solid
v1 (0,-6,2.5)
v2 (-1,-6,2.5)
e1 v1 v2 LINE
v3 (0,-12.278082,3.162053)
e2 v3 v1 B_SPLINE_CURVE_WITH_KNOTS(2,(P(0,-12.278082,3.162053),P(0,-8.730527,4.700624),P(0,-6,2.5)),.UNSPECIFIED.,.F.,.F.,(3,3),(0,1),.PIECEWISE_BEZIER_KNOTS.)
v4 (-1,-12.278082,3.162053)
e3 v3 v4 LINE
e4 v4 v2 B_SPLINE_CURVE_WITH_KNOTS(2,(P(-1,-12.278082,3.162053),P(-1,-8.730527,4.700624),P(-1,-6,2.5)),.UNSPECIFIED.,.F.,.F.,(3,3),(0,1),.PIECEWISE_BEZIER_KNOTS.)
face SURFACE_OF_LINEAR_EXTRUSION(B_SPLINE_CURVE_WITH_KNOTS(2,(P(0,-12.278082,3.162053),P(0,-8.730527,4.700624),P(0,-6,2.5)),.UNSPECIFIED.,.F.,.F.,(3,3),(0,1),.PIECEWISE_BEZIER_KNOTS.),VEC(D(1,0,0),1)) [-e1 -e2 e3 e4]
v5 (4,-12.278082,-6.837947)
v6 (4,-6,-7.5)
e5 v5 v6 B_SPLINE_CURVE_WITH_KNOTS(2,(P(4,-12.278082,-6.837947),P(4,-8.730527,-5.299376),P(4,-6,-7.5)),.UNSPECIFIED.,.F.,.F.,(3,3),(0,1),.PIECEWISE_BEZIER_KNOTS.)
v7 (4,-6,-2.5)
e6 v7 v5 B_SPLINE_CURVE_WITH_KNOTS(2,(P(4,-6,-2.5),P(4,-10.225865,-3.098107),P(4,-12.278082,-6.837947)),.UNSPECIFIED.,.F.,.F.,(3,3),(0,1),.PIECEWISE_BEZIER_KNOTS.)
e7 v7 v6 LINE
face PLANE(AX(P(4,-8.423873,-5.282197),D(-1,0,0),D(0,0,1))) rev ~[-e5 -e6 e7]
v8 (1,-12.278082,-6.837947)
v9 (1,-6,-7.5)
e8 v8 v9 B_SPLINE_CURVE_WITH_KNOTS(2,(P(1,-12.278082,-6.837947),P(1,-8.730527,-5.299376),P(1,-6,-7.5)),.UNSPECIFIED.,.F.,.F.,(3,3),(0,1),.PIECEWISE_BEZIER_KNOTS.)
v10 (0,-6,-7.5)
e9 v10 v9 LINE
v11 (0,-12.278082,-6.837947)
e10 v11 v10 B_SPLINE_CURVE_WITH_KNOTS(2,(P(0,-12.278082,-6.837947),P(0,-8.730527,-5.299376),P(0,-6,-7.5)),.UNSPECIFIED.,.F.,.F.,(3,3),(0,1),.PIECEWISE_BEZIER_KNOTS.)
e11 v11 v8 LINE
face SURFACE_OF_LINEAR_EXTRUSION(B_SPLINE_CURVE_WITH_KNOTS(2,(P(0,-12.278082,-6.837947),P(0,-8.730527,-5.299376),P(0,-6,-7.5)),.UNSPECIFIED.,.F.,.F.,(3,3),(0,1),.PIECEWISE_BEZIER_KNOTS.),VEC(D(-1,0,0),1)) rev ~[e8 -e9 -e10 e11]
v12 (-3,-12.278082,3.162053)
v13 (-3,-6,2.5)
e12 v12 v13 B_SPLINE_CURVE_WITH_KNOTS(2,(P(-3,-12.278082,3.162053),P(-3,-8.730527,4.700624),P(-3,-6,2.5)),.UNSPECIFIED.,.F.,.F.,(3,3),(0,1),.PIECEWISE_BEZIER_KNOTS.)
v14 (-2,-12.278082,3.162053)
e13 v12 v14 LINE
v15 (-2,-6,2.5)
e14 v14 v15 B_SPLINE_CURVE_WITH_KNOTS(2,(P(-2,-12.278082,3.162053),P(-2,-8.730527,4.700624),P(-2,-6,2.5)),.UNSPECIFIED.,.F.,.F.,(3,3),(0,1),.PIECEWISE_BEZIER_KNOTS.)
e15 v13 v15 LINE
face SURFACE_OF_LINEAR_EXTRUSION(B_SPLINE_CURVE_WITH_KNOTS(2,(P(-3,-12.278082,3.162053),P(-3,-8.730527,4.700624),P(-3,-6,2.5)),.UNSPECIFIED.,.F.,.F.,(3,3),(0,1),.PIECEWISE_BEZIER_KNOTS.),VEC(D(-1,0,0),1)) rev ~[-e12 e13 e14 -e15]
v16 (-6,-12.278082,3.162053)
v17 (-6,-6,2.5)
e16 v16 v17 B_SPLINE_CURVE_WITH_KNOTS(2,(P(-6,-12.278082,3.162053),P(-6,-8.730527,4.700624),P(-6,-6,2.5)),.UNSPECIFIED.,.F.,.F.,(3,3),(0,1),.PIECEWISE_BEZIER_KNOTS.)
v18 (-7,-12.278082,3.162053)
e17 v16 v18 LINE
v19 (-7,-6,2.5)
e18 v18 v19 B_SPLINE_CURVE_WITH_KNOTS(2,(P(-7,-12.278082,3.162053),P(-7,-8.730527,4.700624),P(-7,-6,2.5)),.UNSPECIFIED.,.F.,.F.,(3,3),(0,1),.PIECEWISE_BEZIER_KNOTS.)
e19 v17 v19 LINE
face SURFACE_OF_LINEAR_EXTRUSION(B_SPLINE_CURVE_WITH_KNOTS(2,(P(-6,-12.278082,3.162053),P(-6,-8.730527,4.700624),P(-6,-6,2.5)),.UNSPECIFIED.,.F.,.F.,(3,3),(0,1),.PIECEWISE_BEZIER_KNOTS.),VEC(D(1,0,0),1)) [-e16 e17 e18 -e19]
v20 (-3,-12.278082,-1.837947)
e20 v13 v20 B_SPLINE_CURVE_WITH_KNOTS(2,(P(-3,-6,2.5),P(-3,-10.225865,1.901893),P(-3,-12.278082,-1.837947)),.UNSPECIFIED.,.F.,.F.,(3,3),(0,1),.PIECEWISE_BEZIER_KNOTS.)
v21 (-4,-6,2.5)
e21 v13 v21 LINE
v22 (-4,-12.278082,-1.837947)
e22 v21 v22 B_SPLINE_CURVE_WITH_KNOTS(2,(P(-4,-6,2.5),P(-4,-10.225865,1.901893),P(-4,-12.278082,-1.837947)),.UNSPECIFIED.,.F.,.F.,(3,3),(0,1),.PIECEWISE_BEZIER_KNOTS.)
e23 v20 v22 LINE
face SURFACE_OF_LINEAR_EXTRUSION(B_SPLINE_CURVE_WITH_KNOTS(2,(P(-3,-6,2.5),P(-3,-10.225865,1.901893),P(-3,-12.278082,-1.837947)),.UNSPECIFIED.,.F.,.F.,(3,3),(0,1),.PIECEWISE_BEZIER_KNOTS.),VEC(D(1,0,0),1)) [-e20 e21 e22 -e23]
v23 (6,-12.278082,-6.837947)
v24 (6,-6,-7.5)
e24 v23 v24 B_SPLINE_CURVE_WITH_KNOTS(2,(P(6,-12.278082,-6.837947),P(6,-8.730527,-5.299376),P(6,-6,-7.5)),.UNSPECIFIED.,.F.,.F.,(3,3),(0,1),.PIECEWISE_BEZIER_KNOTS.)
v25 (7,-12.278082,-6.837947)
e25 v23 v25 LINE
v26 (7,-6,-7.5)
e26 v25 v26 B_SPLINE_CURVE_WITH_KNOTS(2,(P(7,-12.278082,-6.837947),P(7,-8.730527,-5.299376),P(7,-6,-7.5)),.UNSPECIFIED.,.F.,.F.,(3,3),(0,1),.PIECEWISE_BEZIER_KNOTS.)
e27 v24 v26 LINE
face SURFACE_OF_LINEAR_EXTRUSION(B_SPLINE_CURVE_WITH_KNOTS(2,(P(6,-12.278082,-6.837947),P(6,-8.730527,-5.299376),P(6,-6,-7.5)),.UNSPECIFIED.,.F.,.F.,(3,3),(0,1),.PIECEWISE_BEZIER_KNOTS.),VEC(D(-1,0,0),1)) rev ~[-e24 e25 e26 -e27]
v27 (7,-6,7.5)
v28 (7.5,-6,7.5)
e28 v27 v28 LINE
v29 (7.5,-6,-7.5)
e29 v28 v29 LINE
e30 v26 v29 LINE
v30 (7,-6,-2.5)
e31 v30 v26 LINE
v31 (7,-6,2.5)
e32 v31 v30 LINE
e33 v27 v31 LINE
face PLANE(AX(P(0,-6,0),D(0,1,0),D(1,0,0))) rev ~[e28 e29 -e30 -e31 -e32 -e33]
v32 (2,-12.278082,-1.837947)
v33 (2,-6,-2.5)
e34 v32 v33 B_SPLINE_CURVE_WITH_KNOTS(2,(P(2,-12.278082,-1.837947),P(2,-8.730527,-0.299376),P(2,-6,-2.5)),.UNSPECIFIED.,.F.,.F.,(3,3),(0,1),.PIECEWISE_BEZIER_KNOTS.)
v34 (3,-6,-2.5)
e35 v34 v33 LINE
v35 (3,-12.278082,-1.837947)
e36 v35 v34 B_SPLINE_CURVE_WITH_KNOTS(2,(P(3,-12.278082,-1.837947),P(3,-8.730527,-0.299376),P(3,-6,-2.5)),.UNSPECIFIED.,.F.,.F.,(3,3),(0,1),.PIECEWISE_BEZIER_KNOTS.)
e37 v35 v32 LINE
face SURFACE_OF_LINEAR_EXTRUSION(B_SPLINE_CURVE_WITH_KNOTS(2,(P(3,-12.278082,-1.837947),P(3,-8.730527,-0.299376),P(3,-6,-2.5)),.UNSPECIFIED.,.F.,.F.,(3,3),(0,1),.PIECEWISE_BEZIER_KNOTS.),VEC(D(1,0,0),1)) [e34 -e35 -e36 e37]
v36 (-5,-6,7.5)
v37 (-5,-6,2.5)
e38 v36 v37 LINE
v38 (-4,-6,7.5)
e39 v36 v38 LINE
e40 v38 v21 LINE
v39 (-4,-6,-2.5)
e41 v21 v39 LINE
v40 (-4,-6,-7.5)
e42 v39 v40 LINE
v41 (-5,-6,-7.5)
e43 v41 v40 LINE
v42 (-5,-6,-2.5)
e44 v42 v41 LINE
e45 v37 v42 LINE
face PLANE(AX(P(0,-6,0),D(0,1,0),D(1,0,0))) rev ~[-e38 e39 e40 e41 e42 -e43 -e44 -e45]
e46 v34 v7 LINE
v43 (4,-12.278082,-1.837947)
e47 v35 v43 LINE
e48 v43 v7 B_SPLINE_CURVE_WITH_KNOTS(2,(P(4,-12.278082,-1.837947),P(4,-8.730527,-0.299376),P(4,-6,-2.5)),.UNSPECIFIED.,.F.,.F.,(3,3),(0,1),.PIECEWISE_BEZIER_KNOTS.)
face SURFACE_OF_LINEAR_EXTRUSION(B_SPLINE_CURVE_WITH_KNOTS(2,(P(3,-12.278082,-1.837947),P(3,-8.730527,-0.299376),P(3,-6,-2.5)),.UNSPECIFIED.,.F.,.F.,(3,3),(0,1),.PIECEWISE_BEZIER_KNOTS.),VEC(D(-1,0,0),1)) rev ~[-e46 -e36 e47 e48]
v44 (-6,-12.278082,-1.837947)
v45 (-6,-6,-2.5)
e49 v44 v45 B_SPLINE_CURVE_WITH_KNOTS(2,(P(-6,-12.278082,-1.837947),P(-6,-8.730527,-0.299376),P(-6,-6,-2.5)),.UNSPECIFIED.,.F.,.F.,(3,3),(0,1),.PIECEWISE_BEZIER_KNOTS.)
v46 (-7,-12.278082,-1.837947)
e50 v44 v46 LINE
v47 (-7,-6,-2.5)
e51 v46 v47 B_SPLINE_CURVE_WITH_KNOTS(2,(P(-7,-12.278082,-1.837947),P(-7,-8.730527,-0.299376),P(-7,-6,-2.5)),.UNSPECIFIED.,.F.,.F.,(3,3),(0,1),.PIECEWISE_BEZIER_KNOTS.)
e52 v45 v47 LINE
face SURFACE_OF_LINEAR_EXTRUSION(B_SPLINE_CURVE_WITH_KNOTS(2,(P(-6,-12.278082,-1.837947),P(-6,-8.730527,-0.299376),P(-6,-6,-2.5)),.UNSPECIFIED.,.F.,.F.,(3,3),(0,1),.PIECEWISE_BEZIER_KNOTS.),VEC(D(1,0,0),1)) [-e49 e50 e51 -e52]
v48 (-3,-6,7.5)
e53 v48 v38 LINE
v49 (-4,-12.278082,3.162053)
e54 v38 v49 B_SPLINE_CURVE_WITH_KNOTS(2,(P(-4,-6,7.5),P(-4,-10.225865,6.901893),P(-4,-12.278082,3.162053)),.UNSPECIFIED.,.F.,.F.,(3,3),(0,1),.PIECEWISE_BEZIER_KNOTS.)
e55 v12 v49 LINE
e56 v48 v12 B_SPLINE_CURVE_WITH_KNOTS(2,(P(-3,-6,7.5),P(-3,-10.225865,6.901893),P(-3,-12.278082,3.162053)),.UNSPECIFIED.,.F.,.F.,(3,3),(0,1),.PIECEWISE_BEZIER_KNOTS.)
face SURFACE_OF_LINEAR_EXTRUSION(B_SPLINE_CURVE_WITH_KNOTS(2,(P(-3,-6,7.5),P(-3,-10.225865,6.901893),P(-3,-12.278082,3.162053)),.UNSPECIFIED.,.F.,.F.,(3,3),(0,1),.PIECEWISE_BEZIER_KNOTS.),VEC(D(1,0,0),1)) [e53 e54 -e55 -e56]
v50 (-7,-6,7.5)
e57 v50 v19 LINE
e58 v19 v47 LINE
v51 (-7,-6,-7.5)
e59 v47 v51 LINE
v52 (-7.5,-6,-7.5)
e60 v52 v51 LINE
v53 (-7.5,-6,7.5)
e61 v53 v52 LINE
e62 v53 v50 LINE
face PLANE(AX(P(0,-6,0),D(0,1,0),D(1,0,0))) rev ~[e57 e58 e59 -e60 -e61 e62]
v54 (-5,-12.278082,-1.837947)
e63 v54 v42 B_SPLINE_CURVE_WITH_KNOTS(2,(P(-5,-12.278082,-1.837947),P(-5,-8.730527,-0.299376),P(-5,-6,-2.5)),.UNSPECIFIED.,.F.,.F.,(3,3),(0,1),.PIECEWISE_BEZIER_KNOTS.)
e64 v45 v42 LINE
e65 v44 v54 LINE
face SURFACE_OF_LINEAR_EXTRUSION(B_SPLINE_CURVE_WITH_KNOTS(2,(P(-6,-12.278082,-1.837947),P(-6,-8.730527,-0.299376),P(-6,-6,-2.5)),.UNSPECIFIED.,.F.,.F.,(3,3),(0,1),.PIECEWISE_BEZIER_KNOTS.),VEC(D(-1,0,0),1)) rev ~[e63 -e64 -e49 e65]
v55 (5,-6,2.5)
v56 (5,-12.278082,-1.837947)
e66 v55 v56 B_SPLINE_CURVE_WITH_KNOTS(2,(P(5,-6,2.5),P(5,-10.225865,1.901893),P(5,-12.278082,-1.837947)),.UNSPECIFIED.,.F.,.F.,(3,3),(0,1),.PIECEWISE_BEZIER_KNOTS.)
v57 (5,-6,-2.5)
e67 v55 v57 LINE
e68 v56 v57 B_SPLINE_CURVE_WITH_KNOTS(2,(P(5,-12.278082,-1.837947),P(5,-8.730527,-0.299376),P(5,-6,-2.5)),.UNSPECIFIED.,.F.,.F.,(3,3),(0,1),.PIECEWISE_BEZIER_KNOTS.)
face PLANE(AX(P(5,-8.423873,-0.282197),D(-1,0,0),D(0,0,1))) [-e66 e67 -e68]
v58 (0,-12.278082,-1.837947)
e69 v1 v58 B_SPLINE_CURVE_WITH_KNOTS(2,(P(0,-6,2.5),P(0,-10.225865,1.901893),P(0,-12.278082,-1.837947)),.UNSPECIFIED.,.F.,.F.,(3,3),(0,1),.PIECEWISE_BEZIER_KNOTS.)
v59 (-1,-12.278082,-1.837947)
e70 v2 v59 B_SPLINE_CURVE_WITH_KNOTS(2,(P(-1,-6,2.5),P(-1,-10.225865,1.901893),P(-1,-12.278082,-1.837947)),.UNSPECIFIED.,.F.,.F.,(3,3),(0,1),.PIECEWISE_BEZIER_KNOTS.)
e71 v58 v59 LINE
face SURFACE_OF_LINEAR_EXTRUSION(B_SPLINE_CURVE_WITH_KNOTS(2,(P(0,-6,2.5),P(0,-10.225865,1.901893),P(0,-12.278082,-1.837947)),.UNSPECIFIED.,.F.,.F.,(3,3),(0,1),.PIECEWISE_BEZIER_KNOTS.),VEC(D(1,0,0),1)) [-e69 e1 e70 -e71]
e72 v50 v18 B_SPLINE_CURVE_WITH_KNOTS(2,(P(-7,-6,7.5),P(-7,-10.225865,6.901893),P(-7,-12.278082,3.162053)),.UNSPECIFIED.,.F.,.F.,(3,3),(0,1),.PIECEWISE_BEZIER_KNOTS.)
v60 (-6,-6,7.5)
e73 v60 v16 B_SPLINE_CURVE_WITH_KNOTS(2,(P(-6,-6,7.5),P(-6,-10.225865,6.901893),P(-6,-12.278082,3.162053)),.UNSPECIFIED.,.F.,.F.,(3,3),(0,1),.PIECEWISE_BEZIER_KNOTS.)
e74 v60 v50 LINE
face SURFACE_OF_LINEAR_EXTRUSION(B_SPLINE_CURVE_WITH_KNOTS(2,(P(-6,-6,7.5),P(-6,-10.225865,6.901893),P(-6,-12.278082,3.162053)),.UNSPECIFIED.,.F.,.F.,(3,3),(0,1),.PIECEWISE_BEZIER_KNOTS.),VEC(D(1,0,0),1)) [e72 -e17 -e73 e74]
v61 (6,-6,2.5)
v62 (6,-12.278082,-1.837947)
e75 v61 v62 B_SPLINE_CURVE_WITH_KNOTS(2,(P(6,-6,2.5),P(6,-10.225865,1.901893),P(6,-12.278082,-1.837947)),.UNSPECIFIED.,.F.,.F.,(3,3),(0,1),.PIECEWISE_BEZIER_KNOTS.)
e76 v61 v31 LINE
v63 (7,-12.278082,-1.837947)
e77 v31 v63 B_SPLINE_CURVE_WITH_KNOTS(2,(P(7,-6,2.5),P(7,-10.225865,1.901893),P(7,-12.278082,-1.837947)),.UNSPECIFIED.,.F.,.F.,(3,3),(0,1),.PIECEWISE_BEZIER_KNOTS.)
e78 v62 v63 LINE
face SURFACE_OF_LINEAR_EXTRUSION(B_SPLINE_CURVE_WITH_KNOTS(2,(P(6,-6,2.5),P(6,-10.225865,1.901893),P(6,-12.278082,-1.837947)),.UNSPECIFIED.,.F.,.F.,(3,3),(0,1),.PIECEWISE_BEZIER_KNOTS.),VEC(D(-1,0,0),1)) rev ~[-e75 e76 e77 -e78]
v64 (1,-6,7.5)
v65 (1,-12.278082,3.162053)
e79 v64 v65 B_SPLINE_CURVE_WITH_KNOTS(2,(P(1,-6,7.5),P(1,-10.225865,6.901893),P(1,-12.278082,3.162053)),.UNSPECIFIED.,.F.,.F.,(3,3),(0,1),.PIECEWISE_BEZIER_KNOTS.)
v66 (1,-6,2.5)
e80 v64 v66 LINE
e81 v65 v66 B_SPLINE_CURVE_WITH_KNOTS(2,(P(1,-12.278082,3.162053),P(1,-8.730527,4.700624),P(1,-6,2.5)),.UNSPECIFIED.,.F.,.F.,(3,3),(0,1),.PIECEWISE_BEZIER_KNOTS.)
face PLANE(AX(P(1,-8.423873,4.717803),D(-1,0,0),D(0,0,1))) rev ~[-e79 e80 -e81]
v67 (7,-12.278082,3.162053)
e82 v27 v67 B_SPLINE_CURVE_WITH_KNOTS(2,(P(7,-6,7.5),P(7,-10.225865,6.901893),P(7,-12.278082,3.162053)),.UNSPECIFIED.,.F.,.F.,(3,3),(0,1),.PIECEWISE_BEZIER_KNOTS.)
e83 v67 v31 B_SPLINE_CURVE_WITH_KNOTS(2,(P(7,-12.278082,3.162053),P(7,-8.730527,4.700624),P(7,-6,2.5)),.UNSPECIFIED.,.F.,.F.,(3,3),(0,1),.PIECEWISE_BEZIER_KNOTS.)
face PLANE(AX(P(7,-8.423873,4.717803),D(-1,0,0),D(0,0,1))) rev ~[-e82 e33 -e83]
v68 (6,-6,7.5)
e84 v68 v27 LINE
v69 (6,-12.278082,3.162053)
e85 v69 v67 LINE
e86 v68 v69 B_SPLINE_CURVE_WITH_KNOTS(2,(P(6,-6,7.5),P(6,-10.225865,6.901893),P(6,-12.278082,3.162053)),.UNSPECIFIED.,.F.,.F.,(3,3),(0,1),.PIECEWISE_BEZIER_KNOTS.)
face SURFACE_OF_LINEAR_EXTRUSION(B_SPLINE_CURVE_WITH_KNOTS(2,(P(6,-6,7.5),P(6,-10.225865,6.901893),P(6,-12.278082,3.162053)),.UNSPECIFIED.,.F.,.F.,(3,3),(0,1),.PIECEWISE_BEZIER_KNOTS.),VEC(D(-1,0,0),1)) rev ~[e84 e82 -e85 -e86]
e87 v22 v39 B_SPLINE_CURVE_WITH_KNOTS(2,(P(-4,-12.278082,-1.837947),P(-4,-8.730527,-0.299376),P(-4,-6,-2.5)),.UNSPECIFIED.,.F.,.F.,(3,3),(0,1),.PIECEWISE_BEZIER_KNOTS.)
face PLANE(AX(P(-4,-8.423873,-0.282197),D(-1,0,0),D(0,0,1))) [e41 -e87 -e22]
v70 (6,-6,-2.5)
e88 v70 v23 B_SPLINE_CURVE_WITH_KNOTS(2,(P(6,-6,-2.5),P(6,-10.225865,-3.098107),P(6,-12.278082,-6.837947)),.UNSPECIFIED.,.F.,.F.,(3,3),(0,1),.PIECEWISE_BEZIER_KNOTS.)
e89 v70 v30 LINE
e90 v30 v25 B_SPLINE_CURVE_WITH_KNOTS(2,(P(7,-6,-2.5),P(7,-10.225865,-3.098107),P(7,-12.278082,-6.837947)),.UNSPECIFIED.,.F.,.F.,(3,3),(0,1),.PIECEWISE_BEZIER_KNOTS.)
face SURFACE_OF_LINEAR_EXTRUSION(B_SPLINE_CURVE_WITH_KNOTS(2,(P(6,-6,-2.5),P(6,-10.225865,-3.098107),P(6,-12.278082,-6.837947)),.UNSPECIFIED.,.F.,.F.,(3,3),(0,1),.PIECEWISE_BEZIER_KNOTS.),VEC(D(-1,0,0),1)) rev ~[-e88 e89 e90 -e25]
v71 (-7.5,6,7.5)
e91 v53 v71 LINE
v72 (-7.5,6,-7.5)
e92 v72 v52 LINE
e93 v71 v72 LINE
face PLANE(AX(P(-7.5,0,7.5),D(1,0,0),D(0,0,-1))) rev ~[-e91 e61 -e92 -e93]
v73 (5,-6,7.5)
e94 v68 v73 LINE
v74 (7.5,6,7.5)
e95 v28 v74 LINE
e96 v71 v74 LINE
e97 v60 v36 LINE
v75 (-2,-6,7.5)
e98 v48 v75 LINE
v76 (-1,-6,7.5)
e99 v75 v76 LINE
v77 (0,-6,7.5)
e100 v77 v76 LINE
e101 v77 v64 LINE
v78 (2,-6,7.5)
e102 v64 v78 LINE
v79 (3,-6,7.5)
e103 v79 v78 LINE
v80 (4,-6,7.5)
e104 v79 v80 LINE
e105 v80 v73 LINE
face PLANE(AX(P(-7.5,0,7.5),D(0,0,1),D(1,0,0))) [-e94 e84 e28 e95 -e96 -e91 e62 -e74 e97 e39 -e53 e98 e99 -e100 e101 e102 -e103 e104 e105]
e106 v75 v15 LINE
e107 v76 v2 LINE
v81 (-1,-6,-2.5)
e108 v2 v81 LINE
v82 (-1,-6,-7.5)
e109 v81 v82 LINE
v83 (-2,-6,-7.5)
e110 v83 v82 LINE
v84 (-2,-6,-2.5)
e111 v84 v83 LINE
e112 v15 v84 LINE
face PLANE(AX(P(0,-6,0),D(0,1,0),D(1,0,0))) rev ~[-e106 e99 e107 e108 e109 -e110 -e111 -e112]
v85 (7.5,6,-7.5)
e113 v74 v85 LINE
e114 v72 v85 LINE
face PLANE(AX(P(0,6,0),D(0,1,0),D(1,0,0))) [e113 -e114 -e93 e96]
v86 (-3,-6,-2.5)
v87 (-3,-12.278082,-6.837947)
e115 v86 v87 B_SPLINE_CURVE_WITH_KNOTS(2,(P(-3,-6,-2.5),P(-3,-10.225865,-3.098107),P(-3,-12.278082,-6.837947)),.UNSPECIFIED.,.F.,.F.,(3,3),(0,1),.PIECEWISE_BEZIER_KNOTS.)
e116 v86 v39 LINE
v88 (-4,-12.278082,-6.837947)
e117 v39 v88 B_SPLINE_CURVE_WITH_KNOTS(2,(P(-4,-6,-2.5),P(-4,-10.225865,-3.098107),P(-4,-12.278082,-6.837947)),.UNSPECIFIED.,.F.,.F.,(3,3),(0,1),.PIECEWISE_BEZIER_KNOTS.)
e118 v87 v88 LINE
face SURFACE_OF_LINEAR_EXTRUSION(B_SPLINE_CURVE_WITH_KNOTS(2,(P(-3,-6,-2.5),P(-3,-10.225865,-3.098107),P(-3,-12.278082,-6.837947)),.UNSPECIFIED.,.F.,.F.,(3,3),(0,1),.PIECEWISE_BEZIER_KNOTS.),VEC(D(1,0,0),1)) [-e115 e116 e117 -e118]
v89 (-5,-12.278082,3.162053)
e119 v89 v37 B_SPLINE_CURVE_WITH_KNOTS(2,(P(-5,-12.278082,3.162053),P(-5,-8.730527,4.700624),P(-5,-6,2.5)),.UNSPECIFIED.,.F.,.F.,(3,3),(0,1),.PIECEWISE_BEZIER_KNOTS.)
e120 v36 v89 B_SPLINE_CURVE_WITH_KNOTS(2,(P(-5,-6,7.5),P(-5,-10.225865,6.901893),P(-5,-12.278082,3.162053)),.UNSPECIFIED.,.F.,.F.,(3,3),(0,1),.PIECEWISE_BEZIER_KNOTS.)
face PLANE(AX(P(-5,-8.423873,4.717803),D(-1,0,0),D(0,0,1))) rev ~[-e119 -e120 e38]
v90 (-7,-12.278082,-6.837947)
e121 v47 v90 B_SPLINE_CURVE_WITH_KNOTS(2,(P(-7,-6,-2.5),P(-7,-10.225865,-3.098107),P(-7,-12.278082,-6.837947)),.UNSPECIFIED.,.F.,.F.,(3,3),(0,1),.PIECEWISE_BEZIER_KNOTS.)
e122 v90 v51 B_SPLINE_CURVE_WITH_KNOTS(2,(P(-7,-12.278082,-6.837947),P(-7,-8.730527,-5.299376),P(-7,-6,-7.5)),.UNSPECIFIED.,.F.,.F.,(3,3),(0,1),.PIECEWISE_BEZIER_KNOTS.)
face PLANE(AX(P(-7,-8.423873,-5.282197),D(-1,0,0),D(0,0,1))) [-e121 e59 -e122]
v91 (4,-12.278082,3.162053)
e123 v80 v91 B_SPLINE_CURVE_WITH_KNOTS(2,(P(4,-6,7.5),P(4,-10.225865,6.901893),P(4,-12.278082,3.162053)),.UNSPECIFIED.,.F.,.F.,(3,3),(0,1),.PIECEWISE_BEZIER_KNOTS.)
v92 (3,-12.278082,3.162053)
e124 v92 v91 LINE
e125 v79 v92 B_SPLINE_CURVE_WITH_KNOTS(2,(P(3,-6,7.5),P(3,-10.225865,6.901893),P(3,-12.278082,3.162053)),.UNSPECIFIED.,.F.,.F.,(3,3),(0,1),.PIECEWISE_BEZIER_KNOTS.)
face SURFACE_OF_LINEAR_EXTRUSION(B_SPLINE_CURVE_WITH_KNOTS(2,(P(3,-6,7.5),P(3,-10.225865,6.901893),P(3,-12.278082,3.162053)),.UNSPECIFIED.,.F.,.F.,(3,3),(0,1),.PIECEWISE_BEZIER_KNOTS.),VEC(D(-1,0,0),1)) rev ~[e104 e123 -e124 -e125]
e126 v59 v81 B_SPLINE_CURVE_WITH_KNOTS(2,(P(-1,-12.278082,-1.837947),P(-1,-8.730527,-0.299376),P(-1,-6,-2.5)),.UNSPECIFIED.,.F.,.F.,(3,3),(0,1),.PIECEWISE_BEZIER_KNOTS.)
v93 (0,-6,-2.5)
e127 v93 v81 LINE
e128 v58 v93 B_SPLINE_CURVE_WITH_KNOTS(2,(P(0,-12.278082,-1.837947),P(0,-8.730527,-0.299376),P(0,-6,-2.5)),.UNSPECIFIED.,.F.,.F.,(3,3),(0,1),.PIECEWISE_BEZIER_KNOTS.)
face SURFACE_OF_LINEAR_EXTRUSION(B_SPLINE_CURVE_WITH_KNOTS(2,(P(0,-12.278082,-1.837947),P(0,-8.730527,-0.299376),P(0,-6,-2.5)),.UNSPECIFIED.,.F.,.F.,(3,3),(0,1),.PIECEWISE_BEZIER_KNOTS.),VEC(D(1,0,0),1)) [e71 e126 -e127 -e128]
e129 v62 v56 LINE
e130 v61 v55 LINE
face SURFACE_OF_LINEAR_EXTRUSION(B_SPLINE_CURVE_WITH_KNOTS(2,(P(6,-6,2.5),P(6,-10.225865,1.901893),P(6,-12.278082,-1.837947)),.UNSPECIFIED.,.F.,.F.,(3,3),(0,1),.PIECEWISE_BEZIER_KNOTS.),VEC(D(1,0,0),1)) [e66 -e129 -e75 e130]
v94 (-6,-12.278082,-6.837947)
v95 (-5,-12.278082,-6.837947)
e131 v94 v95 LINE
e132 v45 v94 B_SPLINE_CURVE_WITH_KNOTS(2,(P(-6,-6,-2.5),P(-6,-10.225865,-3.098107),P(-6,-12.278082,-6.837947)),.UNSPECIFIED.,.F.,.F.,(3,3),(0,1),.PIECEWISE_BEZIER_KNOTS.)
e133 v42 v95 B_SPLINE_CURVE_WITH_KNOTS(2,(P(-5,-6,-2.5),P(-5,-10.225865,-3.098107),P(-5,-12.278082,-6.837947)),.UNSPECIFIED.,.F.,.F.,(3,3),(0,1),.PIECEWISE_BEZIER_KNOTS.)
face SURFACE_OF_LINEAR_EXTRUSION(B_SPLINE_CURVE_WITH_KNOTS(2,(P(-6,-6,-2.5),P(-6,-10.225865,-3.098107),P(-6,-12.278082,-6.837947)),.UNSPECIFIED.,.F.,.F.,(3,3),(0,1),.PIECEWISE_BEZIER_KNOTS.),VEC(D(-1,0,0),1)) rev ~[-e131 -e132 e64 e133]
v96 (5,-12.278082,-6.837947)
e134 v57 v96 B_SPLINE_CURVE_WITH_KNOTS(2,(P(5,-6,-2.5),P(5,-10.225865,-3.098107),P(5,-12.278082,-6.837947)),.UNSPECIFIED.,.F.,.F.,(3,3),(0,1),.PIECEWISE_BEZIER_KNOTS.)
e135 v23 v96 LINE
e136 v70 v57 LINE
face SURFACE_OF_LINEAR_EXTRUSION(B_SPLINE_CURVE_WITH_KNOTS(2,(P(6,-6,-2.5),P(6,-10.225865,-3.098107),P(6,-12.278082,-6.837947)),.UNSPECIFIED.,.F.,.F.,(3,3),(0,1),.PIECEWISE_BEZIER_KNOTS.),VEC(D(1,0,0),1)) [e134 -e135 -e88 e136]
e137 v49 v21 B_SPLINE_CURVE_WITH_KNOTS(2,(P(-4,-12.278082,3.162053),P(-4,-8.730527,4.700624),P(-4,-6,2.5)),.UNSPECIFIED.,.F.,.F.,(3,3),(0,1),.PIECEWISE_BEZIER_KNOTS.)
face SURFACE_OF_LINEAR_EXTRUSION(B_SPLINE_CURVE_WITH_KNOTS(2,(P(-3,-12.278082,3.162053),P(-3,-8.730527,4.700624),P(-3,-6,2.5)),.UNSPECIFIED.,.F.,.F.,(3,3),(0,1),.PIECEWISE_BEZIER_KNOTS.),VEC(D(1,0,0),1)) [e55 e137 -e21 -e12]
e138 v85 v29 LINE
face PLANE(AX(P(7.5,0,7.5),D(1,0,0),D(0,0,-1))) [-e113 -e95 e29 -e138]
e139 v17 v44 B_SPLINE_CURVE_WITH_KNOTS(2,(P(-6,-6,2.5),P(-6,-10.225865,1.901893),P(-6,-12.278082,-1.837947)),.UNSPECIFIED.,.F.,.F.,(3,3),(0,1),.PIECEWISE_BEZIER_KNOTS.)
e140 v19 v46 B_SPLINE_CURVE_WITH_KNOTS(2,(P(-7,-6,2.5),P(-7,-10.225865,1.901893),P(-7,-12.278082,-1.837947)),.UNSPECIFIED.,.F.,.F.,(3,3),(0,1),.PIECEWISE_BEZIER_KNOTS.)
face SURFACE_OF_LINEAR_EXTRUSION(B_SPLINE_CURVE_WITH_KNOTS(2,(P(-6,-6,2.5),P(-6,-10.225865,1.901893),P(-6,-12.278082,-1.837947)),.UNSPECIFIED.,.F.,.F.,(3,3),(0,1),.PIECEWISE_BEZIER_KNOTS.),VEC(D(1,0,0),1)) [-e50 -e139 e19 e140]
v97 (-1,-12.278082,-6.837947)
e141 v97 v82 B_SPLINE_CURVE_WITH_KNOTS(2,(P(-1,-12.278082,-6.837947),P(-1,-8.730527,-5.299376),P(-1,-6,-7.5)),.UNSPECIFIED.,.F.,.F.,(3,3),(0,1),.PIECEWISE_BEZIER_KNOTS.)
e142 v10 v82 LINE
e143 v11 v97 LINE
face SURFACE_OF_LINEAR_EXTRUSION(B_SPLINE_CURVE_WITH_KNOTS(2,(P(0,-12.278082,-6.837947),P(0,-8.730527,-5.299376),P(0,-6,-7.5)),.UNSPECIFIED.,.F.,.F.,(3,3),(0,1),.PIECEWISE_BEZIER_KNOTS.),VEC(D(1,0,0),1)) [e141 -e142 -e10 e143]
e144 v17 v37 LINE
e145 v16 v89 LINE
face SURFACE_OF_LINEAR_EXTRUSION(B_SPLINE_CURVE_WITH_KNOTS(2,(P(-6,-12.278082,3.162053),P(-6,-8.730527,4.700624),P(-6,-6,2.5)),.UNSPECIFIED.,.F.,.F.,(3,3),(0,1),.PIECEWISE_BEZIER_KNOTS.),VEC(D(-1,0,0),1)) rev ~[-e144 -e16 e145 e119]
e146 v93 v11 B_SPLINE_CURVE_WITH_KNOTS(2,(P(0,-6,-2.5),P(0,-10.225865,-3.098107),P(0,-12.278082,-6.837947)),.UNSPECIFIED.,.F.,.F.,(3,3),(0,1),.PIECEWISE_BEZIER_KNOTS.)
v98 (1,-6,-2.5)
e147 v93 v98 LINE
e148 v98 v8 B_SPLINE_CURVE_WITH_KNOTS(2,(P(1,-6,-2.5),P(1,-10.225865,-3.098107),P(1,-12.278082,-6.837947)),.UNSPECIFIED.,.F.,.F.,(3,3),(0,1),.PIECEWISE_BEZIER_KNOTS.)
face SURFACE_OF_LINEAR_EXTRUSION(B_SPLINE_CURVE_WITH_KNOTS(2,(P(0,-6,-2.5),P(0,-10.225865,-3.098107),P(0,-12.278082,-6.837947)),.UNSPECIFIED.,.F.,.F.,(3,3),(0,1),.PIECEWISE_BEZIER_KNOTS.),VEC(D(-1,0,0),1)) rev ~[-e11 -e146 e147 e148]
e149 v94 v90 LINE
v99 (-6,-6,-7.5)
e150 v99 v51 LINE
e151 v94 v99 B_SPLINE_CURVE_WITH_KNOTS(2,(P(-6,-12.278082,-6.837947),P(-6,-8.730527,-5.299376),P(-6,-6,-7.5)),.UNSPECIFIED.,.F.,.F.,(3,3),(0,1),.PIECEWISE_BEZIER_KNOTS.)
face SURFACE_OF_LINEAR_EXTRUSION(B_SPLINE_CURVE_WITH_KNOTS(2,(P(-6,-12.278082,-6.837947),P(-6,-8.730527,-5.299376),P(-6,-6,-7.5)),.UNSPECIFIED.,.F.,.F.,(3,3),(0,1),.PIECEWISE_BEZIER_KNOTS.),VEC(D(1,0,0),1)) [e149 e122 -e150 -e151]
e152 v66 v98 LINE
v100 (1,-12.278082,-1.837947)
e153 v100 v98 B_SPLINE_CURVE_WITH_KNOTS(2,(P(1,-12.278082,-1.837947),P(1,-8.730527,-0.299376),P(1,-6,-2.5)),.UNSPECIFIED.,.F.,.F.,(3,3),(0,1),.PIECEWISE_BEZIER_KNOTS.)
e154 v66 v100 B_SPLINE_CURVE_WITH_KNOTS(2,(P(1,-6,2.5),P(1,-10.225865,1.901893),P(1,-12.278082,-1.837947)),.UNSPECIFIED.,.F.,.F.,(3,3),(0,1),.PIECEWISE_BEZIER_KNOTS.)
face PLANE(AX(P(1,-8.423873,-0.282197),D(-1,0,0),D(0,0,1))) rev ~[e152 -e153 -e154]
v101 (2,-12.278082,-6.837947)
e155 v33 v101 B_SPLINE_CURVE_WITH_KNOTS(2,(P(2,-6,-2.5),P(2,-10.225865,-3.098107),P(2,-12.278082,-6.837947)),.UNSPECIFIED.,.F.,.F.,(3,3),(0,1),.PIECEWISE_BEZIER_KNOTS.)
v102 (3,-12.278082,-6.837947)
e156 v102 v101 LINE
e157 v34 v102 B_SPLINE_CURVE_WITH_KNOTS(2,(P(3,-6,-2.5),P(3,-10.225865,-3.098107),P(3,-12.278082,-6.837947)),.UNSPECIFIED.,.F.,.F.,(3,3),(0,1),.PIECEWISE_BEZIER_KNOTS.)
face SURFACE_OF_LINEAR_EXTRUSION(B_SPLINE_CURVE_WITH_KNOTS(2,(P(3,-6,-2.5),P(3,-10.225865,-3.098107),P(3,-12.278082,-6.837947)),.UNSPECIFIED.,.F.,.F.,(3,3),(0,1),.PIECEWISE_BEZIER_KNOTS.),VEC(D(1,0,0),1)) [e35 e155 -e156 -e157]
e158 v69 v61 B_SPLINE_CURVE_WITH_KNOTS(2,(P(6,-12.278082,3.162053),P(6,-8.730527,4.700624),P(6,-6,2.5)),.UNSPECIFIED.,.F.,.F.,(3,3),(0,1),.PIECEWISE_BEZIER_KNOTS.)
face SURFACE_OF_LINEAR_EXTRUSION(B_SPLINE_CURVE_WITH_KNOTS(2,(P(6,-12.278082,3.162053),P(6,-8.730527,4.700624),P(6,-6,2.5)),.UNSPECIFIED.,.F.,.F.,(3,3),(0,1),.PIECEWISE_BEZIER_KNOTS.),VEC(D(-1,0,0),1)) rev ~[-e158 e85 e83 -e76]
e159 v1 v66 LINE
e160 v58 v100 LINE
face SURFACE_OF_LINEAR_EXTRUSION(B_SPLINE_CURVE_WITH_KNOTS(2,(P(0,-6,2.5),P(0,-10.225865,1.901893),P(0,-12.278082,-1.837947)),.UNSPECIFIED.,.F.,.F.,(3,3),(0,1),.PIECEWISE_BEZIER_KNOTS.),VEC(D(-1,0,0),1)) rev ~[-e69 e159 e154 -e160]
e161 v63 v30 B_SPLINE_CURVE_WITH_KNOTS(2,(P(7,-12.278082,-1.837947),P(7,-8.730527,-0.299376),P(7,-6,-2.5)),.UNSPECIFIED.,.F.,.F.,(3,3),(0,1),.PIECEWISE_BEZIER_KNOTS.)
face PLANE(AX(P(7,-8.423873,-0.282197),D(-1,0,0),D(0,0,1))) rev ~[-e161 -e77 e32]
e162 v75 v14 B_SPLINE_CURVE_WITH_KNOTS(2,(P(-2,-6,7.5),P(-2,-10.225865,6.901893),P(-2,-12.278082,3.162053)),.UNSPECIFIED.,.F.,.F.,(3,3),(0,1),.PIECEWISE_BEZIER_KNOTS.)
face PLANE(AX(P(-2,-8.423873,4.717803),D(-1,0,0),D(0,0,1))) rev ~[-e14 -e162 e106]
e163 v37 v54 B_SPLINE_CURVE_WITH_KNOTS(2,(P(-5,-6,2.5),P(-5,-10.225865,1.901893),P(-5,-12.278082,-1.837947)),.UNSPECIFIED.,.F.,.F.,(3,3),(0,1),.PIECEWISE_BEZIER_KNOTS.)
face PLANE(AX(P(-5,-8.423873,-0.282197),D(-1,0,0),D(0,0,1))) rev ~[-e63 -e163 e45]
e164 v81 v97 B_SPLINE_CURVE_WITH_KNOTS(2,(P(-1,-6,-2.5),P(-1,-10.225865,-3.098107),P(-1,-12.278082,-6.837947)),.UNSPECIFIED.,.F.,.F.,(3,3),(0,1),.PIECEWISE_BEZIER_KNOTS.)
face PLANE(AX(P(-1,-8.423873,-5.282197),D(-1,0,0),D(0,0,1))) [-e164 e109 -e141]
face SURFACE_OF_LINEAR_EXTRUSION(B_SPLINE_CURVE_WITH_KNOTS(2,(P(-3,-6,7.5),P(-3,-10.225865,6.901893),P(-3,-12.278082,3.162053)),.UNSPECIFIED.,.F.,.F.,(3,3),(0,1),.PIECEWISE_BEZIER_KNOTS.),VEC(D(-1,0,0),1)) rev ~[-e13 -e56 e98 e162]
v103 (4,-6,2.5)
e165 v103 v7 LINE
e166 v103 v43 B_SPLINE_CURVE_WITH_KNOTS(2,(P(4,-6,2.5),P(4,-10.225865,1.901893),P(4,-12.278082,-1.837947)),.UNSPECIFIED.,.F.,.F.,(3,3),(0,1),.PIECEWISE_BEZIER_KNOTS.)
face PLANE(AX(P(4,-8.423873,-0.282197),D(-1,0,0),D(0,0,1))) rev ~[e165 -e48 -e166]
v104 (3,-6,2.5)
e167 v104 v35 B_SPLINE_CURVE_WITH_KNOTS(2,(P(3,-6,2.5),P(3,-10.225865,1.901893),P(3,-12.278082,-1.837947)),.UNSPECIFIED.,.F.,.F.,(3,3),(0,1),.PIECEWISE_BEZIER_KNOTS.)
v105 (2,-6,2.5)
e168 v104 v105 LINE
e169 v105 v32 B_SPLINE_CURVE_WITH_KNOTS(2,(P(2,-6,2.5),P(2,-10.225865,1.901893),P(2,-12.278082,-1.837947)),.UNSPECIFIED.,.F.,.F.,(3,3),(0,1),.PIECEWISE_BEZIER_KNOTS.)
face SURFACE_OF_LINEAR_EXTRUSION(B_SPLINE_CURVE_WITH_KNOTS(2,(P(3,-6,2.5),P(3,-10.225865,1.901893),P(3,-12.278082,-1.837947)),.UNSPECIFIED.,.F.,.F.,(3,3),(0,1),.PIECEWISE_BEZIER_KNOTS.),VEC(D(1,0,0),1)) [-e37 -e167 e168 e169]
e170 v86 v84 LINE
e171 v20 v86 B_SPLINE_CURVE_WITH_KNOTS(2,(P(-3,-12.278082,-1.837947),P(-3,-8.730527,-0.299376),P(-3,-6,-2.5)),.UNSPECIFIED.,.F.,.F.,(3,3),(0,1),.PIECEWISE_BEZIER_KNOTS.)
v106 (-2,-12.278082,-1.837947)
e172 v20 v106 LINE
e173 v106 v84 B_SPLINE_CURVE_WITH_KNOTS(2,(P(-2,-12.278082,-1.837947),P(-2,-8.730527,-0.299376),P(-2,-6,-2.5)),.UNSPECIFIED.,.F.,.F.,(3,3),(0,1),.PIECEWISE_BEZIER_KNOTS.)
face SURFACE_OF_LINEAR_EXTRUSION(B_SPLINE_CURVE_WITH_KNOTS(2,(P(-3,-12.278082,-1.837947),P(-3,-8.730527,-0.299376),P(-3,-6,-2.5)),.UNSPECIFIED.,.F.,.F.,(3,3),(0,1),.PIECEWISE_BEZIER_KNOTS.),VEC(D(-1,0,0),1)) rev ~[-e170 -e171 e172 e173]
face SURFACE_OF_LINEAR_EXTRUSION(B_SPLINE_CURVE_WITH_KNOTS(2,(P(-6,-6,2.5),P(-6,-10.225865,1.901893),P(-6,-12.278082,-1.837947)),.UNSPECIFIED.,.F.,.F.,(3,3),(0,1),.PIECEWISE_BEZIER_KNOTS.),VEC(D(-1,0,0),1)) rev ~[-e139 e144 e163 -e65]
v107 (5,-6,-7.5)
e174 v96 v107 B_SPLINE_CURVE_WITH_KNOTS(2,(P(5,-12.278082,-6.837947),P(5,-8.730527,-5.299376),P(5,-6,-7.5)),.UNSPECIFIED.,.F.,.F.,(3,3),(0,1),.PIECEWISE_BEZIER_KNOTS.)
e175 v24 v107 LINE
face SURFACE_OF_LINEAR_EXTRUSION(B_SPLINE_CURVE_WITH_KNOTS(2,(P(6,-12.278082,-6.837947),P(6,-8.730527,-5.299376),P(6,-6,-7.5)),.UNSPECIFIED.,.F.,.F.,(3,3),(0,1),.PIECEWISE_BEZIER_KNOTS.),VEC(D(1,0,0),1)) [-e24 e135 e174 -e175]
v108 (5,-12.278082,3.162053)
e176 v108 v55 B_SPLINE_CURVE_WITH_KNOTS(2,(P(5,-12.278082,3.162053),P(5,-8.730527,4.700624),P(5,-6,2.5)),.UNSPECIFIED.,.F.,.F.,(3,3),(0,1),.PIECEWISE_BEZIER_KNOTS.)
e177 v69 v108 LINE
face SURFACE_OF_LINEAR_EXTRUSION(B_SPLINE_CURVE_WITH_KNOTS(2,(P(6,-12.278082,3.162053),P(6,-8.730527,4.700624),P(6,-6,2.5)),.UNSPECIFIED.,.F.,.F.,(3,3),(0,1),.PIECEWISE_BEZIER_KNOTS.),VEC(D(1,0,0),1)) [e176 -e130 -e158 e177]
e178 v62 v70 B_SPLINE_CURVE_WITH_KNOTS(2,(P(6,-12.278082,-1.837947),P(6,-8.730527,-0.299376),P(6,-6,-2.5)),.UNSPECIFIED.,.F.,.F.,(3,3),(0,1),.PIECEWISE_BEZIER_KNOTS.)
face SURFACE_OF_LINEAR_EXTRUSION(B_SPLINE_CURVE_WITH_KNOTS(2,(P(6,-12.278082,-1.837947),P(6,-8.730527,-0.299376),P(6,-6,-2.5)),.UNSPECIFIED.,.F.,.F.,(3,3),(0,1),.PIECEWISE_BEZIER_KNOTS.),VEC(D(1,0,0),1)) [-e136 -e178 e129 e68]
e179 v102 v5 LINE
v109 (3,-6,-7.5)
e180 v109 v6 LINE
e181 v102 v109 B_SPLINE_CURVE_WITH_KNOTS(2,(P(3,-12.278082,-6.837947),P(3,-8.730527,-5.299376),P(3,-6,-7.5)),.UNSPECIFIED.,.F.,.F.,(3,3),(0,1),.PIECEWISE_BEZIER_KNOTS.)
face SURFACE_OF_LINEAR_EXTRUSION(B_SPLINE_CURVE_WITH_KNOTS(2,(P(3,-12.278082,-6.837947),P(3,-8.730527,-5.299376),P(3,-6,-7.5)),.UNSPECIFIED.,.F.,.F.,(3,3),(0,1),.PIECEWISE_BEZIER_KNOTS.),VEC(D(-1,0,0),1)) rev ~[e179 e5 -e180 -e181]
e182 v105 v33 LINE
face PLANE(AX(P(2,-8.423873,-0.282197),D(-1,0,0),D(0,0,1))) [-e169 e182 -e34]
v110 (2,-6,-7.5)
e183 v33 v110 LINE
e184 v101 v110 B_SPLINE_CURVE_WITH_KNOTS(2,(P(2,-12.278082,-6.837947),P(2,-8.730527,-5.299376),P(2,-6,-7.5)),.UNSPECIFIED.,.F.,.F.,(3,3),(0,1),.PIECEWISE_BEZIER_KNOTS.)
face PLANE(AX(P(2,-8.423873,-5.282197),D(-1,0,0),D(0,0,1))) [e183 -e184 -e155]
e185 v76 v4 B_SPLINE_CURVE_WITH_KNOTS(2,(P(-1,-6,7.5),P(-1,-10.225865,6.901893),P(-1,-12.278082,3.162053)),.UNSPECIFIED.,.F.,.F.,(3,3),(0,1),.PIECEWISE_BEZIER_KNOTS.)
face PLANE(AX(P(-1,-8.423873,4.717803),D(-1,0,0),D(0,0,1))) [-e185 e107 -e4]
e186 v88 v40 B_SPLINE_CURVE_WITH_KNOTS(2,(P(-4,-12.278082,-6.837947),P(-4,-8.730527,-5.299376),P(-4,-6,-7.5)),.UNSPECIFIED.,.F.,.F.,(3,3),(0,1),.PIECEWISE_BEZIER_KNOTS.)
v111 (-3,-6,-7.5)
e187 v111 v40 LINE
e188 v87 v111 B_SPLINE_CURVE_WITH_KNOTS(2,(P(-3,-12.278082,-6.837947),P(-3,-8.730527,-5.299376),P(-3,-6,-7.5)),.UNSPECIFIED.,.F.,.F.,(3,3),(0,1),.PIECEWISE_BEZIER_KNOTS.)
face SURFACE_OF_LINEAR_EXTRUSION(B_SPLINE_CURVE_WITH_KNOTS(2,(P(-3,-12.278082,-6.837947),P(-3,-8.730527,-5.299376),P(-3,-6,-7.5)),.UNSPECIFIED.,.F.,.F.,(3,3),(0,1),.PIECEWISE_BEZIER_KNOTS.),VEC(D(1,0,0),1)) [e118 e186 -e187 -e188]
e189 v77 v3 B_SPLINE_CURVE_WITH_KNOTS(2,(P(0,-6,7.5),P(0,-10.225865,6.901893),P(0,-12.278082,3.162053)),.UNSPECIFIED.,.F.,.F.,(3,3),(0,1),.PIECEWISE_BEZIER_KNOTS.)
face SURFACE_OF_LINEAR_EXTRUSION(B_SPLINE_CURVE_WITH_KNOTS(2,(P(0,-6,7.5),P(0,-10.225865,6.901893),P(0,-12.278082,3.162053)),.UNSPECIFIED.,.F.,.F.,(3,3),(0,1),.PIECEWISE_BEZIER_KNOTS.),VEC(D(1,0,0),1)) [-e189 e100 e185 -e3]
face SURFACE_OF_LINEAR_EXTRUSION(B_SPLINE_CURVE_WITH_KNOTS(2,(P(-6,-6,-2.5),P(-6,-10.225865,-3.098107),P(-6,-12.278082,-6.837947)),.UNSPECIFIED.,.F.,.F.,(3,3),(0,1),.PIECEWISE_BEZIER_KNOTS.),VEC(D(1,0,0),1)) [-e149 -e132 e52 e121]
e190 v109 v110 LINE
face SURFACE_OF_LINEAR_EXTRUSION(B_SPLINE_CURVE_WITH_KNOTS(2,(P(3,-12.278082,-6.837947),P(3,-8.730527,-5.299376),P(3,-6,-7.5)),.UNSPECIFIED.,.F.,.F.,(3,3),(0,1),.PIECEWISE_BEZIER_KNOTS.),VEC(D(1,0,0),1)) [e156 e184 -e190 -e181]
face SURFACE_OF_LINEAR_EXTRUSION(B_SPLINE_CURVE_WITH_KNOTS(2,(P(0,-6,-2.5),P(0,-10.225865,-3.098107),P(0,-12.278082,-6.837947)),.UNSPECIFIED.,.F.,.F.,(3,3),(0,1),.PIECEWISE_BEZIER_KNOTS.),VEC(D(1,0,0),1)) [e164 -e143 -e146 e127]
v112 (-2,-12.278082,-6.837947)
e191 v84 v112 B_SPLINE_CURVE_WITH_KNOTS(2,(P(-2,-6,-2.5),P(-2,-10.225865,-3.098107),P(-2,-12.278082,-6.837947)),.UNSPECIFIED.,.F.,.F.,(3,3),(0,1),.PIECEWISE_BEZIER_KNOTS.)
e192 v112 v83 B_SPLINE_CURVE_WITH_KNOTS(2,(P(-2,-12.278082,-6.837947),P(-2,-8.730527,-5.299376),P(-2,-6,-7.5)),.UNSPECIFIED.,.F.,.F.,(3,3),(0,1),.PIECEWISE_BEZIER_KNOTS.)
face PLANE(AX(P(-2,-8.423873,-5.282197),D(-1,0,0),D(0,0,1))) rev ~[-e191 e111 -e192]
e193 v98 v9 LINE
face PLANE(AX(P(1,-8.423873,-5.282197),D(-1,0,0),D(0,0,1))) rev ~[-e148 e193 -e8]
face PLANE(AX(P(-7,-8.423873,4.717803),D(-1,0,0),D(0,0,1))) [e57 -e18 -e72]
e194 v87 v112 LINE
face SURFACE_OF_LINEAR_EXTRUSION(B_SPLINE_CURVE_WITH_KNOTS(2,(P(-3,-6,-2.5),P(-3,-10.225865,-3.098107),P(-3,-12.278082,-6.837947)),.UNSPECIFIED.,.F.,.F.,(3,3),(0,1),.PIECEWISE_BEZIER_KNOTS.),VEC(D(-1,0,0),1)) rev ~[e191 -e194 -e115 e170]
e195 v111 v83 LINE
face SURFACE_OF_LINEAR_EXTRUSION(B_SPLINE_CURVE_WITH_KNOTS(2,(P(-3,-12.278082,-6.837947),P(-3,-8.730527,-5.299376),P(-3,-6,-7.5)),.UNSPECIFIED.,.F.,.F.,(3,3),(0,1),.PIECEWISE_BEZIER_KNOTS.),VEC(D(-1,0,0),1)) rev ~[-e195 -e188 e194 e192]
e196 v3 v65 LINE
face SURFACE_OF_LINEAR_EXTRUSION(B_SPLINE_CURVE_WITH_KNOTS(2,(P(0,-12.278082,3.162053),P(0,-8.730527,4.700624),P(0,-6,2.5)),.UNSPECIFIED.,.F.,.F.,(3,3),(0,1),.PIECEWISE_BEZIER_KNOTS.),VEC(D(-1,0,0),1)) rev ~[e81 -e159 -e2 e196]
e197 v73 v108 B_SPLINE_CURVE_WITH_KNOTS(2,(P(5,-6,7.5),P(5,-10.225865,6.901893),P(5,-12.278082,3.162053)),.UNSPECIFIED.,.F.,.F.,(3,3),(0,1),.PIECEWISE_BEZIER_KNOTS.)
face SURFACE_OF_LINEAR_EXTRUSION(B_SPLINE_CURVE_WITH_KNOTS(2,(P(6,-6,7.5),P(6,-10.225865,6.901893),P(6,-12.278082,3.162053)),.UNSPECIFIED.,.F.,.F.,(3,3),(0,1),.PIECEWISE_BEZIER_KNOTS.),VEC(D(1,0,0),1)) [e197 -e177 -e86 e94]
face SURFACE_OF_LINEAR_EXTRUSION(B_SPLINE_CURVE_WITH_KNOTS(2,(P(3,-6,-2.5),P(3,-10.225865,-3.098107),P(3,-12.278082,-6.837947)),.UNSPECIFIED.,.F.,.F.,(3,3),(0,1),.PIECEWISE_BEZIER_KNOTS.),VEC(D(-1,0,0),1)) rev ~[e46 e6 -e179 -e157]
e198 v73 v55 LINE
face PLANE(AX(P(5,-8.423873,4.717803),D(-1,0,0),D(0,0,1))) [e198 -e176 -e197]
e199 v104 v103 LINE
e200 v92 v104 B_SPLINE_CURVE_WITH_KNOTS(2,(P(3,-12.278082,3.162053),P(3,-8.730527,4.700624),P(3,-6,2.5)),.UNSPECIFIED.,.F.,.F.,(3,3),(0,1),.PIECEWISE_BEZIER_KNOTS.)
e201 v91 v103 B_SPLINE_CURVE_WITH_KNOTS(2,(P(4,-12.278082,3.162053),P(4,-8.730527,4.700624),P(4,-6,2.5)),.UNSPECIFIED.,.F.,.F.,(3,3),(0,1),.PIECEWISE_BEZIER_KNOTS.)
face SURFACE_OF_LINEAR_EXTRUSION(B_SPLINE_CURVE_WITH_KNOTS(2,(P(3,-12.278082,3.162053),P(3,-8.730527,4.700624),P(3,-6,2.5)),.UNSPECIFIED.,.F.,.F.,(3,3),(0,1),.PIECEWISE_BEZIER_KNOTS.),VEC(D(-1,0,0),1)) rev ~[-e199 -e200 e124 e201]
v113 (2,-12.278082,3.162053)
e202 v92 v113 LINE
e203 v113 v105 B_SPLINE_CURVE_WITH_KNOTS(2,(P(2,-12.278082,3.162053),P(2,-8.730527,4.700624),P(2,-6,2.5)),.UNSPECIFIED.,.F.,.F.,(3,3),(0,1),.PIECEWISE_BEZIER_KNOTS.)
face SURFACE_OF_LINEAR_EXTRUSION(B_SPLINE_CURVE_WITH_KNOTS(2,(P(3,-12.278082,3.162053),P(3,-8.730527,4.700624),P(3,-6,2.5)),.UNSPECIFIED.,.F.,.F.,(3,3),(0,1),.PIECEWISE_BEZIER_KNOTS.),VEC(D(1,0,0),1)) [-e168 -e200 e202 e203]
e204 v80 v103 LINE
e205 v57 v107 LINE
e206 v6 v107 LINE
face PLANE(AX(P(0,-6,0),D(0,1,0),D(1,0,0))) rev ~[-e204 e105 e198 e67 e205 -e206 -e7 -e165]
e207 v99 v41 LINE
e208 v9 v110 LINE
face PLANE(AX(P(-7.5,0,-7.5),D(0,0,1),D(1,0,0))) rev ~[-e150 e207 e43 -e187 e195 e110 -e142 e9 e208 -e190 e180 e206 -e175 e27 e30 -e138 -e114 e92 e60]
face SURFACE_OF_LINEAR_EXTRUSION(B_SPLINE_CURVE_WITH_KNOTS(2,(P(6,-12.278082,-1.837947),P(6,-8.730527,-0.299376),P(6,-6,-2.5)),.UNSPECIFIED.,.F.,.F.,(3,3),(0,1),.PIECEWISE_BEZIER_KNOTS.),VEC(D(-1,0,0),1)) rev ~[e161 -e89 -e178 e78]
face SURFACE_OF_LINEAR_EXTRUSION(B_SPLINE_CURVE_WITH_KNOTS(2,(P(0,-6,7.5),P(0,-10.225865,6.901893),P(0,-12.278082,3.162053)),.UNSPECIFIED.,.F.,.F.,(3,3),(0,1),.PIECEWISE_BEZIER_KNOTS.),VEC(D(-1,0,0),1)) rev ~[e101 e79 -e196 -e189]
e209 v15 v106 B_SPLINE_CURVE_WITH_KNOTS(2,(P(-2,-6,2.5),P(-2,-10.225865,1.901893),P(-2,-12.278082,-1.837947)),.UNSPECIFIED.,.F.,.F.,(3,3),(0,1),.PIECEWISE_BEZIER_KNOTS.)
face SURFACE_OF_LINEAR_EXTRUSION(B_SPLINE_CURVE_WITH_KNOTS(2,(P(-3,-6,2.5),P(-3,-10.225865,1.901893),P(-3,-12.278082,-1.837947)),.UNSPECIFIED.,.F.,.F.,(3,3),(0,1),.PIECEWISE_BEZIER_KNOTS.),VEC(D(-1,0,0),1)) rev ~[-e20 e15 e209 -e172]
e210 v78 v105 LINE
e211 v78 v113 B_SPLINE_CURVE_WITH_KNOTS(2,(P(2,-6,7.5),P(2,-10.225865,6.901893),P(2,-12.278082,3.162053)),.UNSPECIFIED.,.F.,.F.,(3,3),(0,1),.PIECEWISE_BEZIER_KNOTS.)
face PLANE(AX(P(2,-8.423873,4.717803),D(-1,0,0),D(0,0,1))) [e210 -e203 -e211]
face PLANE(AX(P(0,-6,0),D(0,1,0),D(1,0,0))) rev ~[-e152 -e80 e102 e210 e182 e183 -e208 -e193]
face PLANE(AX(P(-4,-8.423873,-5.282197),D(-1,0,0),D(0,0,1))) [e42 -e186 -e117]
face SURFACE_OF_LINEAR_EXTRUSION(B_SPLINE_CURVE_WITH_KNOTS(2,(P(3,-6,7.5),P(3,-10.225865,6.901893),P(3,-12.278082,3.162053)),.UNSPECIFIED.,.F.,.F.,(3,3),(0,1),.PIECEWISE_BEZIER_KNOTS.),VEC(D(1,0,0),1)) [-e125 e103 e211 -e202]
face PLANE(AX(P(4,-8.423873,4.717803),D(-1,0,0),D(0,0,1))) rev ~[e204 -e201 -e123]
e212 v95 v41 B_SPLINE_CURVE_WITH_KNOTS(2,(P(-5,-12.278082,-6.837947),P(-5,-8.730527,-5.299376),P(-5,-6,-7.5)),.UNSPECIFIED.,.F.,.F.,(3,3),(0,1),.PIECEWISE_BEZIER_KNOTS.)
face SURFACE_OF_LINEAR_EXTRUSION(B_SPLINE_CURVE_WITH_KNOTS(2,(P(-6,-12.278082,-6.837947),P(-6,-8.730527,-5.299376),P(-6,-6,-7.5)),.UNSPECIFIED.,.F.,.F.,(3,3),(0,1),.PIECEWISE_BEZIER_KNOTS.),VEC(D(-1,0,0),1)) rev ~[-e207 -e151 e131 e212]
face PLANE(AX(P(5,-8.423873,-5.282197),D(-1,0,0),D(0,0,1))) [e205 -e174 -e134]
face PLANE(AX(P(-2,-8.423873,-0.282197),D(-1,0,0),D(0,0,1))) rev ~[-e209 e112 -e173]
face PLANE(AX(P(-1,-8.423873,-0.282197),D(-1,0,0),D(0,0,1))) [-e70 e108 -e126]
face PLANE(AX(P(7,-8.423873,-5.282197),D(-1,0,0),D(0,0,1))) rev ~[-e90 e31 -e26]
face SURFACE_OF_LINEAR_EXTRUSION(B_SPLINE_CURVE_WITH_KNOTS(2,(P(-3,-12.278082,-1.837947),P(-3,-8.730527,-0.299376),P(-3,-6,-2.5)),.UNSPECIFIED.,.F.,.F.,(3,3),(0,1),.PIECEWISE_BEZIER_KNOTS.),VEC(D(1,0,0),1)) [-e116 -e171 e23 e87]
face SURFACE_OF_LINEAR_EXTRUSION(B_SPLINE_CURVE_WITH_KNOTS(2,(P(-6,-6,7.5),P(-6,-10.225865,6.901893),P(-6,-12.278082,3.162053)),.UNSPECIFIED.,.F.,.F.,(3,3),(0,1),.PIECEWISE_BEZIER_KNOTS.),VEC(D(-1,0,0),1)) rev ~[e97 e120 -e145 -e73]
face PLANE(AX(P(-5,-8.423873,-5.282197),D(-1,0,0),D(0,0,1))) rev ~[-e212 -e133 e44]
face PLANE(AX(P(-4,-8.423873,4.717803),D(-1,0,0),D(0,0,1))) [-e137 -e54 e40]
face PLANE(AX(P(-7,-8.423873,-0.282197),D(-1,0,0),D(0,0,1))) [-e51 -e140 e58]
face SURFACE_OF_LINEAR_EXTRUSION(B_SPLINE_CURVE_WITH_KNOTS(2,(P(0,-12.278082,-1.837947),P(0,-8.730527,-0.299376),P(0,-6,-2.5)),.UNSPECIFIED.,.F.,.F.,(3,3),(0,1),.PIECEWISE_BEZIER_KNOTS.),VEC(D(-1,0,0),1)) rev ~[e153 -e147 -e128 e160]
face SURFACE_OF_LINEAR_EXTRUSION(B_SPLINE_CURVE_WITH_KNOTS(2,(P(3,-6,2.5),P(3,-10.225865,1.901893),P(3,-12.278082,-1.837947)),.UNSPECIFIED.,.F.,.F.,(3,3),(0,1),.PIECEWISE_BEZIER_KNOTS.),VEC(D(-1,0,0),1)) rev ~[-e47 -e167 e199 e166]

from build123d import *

# Parameters (mm, degrees)
SKETCH_1_W                  = 15
SKETCH_1_H                  = 15
EXTRUDE_1_DEPTH             = 6
EXTRUDE_2_DEPTH             = 1
PATTERN_LINEAR_1_COUNT      = 3
PATTERN_LINEAR_1_PITCH      = 3
PATTERN_LINEAR_1_COUNT_DIR2 = 3
PATTERN_LINEAR_1_PITCH_DIR2 = 5
PATTERN_LINEAR_2_COUNT      = 3
PATTERN_LINEAR_2_PITCH      = 3
PATTERN_LINEAR_2_COUNT_DIR2 = 3
PATTERN_LINEAR_2_PITCH_DIR2 = 5


with BuildPart() as part:
    # 스케치1 → 보스-돌출1 (new, symmetric)
    with BuildSketch(Plane(origin=(0, 0, 0), x_dir=(1, 0, 0), z_dir=(0, 1, 0))):
        Rectangle(SKETCH_1_W, SKETCH_1_H)
    extrude(amount=EXTRUDE_1_DEPTH, both=True)

    # 스케치3 → 보스-돌출2 (add, symmetric)
    with BuildSketch(Plane(origin=(0, 0, 0), x_dir=(0, 0, -1), z_dir=(1, 0, 0))):
        with BuildLine():
            Line((2.5, -6), (7.5, -6))
            add(Edge.make_bspline(
                [(6.837946582, -12.278081575), (5.299376428, -8.730527415), (7.5, -6)],
                knots=[0, 0, 0, 1, 1, 1], degree=2))
            add(Edge.make_bspline(
                [(2.5, -6), (3.098107293, -10.225865232), (6.837946582, -12.278081575)],
                knots=[0, 0, 0, 1, 1, 1], degree=2))
        make_face()
    extrude_2 = extrude(amount=EXTRUDE_2_DEPTH, both=True)

    # 선형 패턴1: Extrude 2 3 × 3
    with Locations(*[(-i * PATTERN_LINEAR_1_PITCH, 0, j * PATTERN_LINEAR_1_PITCH_DIR2) for i in range(PATTERN_LINEAR_1_COUNT) for j in range(PATTERN_LINEAR_1_COUNT_DIR2) if (i, j) != (0, 0)]):
        add(extrude_2)

    # 선형 패턴2: Extrude 2 3 × 3
    with Locations(*[(i * PATTERN_LINEAR_2_PITCH, 0, j * PATTERN_LINEAR_2_PITCH_DIR2) for i in range(PATTERN_LINEAR_2_COUNT) for j in range(PATTERN_LINEAR_2_COUNT_DIR2) if (i, j) != (0, 0)]):
        add(extrude_2)


solid = part.part
